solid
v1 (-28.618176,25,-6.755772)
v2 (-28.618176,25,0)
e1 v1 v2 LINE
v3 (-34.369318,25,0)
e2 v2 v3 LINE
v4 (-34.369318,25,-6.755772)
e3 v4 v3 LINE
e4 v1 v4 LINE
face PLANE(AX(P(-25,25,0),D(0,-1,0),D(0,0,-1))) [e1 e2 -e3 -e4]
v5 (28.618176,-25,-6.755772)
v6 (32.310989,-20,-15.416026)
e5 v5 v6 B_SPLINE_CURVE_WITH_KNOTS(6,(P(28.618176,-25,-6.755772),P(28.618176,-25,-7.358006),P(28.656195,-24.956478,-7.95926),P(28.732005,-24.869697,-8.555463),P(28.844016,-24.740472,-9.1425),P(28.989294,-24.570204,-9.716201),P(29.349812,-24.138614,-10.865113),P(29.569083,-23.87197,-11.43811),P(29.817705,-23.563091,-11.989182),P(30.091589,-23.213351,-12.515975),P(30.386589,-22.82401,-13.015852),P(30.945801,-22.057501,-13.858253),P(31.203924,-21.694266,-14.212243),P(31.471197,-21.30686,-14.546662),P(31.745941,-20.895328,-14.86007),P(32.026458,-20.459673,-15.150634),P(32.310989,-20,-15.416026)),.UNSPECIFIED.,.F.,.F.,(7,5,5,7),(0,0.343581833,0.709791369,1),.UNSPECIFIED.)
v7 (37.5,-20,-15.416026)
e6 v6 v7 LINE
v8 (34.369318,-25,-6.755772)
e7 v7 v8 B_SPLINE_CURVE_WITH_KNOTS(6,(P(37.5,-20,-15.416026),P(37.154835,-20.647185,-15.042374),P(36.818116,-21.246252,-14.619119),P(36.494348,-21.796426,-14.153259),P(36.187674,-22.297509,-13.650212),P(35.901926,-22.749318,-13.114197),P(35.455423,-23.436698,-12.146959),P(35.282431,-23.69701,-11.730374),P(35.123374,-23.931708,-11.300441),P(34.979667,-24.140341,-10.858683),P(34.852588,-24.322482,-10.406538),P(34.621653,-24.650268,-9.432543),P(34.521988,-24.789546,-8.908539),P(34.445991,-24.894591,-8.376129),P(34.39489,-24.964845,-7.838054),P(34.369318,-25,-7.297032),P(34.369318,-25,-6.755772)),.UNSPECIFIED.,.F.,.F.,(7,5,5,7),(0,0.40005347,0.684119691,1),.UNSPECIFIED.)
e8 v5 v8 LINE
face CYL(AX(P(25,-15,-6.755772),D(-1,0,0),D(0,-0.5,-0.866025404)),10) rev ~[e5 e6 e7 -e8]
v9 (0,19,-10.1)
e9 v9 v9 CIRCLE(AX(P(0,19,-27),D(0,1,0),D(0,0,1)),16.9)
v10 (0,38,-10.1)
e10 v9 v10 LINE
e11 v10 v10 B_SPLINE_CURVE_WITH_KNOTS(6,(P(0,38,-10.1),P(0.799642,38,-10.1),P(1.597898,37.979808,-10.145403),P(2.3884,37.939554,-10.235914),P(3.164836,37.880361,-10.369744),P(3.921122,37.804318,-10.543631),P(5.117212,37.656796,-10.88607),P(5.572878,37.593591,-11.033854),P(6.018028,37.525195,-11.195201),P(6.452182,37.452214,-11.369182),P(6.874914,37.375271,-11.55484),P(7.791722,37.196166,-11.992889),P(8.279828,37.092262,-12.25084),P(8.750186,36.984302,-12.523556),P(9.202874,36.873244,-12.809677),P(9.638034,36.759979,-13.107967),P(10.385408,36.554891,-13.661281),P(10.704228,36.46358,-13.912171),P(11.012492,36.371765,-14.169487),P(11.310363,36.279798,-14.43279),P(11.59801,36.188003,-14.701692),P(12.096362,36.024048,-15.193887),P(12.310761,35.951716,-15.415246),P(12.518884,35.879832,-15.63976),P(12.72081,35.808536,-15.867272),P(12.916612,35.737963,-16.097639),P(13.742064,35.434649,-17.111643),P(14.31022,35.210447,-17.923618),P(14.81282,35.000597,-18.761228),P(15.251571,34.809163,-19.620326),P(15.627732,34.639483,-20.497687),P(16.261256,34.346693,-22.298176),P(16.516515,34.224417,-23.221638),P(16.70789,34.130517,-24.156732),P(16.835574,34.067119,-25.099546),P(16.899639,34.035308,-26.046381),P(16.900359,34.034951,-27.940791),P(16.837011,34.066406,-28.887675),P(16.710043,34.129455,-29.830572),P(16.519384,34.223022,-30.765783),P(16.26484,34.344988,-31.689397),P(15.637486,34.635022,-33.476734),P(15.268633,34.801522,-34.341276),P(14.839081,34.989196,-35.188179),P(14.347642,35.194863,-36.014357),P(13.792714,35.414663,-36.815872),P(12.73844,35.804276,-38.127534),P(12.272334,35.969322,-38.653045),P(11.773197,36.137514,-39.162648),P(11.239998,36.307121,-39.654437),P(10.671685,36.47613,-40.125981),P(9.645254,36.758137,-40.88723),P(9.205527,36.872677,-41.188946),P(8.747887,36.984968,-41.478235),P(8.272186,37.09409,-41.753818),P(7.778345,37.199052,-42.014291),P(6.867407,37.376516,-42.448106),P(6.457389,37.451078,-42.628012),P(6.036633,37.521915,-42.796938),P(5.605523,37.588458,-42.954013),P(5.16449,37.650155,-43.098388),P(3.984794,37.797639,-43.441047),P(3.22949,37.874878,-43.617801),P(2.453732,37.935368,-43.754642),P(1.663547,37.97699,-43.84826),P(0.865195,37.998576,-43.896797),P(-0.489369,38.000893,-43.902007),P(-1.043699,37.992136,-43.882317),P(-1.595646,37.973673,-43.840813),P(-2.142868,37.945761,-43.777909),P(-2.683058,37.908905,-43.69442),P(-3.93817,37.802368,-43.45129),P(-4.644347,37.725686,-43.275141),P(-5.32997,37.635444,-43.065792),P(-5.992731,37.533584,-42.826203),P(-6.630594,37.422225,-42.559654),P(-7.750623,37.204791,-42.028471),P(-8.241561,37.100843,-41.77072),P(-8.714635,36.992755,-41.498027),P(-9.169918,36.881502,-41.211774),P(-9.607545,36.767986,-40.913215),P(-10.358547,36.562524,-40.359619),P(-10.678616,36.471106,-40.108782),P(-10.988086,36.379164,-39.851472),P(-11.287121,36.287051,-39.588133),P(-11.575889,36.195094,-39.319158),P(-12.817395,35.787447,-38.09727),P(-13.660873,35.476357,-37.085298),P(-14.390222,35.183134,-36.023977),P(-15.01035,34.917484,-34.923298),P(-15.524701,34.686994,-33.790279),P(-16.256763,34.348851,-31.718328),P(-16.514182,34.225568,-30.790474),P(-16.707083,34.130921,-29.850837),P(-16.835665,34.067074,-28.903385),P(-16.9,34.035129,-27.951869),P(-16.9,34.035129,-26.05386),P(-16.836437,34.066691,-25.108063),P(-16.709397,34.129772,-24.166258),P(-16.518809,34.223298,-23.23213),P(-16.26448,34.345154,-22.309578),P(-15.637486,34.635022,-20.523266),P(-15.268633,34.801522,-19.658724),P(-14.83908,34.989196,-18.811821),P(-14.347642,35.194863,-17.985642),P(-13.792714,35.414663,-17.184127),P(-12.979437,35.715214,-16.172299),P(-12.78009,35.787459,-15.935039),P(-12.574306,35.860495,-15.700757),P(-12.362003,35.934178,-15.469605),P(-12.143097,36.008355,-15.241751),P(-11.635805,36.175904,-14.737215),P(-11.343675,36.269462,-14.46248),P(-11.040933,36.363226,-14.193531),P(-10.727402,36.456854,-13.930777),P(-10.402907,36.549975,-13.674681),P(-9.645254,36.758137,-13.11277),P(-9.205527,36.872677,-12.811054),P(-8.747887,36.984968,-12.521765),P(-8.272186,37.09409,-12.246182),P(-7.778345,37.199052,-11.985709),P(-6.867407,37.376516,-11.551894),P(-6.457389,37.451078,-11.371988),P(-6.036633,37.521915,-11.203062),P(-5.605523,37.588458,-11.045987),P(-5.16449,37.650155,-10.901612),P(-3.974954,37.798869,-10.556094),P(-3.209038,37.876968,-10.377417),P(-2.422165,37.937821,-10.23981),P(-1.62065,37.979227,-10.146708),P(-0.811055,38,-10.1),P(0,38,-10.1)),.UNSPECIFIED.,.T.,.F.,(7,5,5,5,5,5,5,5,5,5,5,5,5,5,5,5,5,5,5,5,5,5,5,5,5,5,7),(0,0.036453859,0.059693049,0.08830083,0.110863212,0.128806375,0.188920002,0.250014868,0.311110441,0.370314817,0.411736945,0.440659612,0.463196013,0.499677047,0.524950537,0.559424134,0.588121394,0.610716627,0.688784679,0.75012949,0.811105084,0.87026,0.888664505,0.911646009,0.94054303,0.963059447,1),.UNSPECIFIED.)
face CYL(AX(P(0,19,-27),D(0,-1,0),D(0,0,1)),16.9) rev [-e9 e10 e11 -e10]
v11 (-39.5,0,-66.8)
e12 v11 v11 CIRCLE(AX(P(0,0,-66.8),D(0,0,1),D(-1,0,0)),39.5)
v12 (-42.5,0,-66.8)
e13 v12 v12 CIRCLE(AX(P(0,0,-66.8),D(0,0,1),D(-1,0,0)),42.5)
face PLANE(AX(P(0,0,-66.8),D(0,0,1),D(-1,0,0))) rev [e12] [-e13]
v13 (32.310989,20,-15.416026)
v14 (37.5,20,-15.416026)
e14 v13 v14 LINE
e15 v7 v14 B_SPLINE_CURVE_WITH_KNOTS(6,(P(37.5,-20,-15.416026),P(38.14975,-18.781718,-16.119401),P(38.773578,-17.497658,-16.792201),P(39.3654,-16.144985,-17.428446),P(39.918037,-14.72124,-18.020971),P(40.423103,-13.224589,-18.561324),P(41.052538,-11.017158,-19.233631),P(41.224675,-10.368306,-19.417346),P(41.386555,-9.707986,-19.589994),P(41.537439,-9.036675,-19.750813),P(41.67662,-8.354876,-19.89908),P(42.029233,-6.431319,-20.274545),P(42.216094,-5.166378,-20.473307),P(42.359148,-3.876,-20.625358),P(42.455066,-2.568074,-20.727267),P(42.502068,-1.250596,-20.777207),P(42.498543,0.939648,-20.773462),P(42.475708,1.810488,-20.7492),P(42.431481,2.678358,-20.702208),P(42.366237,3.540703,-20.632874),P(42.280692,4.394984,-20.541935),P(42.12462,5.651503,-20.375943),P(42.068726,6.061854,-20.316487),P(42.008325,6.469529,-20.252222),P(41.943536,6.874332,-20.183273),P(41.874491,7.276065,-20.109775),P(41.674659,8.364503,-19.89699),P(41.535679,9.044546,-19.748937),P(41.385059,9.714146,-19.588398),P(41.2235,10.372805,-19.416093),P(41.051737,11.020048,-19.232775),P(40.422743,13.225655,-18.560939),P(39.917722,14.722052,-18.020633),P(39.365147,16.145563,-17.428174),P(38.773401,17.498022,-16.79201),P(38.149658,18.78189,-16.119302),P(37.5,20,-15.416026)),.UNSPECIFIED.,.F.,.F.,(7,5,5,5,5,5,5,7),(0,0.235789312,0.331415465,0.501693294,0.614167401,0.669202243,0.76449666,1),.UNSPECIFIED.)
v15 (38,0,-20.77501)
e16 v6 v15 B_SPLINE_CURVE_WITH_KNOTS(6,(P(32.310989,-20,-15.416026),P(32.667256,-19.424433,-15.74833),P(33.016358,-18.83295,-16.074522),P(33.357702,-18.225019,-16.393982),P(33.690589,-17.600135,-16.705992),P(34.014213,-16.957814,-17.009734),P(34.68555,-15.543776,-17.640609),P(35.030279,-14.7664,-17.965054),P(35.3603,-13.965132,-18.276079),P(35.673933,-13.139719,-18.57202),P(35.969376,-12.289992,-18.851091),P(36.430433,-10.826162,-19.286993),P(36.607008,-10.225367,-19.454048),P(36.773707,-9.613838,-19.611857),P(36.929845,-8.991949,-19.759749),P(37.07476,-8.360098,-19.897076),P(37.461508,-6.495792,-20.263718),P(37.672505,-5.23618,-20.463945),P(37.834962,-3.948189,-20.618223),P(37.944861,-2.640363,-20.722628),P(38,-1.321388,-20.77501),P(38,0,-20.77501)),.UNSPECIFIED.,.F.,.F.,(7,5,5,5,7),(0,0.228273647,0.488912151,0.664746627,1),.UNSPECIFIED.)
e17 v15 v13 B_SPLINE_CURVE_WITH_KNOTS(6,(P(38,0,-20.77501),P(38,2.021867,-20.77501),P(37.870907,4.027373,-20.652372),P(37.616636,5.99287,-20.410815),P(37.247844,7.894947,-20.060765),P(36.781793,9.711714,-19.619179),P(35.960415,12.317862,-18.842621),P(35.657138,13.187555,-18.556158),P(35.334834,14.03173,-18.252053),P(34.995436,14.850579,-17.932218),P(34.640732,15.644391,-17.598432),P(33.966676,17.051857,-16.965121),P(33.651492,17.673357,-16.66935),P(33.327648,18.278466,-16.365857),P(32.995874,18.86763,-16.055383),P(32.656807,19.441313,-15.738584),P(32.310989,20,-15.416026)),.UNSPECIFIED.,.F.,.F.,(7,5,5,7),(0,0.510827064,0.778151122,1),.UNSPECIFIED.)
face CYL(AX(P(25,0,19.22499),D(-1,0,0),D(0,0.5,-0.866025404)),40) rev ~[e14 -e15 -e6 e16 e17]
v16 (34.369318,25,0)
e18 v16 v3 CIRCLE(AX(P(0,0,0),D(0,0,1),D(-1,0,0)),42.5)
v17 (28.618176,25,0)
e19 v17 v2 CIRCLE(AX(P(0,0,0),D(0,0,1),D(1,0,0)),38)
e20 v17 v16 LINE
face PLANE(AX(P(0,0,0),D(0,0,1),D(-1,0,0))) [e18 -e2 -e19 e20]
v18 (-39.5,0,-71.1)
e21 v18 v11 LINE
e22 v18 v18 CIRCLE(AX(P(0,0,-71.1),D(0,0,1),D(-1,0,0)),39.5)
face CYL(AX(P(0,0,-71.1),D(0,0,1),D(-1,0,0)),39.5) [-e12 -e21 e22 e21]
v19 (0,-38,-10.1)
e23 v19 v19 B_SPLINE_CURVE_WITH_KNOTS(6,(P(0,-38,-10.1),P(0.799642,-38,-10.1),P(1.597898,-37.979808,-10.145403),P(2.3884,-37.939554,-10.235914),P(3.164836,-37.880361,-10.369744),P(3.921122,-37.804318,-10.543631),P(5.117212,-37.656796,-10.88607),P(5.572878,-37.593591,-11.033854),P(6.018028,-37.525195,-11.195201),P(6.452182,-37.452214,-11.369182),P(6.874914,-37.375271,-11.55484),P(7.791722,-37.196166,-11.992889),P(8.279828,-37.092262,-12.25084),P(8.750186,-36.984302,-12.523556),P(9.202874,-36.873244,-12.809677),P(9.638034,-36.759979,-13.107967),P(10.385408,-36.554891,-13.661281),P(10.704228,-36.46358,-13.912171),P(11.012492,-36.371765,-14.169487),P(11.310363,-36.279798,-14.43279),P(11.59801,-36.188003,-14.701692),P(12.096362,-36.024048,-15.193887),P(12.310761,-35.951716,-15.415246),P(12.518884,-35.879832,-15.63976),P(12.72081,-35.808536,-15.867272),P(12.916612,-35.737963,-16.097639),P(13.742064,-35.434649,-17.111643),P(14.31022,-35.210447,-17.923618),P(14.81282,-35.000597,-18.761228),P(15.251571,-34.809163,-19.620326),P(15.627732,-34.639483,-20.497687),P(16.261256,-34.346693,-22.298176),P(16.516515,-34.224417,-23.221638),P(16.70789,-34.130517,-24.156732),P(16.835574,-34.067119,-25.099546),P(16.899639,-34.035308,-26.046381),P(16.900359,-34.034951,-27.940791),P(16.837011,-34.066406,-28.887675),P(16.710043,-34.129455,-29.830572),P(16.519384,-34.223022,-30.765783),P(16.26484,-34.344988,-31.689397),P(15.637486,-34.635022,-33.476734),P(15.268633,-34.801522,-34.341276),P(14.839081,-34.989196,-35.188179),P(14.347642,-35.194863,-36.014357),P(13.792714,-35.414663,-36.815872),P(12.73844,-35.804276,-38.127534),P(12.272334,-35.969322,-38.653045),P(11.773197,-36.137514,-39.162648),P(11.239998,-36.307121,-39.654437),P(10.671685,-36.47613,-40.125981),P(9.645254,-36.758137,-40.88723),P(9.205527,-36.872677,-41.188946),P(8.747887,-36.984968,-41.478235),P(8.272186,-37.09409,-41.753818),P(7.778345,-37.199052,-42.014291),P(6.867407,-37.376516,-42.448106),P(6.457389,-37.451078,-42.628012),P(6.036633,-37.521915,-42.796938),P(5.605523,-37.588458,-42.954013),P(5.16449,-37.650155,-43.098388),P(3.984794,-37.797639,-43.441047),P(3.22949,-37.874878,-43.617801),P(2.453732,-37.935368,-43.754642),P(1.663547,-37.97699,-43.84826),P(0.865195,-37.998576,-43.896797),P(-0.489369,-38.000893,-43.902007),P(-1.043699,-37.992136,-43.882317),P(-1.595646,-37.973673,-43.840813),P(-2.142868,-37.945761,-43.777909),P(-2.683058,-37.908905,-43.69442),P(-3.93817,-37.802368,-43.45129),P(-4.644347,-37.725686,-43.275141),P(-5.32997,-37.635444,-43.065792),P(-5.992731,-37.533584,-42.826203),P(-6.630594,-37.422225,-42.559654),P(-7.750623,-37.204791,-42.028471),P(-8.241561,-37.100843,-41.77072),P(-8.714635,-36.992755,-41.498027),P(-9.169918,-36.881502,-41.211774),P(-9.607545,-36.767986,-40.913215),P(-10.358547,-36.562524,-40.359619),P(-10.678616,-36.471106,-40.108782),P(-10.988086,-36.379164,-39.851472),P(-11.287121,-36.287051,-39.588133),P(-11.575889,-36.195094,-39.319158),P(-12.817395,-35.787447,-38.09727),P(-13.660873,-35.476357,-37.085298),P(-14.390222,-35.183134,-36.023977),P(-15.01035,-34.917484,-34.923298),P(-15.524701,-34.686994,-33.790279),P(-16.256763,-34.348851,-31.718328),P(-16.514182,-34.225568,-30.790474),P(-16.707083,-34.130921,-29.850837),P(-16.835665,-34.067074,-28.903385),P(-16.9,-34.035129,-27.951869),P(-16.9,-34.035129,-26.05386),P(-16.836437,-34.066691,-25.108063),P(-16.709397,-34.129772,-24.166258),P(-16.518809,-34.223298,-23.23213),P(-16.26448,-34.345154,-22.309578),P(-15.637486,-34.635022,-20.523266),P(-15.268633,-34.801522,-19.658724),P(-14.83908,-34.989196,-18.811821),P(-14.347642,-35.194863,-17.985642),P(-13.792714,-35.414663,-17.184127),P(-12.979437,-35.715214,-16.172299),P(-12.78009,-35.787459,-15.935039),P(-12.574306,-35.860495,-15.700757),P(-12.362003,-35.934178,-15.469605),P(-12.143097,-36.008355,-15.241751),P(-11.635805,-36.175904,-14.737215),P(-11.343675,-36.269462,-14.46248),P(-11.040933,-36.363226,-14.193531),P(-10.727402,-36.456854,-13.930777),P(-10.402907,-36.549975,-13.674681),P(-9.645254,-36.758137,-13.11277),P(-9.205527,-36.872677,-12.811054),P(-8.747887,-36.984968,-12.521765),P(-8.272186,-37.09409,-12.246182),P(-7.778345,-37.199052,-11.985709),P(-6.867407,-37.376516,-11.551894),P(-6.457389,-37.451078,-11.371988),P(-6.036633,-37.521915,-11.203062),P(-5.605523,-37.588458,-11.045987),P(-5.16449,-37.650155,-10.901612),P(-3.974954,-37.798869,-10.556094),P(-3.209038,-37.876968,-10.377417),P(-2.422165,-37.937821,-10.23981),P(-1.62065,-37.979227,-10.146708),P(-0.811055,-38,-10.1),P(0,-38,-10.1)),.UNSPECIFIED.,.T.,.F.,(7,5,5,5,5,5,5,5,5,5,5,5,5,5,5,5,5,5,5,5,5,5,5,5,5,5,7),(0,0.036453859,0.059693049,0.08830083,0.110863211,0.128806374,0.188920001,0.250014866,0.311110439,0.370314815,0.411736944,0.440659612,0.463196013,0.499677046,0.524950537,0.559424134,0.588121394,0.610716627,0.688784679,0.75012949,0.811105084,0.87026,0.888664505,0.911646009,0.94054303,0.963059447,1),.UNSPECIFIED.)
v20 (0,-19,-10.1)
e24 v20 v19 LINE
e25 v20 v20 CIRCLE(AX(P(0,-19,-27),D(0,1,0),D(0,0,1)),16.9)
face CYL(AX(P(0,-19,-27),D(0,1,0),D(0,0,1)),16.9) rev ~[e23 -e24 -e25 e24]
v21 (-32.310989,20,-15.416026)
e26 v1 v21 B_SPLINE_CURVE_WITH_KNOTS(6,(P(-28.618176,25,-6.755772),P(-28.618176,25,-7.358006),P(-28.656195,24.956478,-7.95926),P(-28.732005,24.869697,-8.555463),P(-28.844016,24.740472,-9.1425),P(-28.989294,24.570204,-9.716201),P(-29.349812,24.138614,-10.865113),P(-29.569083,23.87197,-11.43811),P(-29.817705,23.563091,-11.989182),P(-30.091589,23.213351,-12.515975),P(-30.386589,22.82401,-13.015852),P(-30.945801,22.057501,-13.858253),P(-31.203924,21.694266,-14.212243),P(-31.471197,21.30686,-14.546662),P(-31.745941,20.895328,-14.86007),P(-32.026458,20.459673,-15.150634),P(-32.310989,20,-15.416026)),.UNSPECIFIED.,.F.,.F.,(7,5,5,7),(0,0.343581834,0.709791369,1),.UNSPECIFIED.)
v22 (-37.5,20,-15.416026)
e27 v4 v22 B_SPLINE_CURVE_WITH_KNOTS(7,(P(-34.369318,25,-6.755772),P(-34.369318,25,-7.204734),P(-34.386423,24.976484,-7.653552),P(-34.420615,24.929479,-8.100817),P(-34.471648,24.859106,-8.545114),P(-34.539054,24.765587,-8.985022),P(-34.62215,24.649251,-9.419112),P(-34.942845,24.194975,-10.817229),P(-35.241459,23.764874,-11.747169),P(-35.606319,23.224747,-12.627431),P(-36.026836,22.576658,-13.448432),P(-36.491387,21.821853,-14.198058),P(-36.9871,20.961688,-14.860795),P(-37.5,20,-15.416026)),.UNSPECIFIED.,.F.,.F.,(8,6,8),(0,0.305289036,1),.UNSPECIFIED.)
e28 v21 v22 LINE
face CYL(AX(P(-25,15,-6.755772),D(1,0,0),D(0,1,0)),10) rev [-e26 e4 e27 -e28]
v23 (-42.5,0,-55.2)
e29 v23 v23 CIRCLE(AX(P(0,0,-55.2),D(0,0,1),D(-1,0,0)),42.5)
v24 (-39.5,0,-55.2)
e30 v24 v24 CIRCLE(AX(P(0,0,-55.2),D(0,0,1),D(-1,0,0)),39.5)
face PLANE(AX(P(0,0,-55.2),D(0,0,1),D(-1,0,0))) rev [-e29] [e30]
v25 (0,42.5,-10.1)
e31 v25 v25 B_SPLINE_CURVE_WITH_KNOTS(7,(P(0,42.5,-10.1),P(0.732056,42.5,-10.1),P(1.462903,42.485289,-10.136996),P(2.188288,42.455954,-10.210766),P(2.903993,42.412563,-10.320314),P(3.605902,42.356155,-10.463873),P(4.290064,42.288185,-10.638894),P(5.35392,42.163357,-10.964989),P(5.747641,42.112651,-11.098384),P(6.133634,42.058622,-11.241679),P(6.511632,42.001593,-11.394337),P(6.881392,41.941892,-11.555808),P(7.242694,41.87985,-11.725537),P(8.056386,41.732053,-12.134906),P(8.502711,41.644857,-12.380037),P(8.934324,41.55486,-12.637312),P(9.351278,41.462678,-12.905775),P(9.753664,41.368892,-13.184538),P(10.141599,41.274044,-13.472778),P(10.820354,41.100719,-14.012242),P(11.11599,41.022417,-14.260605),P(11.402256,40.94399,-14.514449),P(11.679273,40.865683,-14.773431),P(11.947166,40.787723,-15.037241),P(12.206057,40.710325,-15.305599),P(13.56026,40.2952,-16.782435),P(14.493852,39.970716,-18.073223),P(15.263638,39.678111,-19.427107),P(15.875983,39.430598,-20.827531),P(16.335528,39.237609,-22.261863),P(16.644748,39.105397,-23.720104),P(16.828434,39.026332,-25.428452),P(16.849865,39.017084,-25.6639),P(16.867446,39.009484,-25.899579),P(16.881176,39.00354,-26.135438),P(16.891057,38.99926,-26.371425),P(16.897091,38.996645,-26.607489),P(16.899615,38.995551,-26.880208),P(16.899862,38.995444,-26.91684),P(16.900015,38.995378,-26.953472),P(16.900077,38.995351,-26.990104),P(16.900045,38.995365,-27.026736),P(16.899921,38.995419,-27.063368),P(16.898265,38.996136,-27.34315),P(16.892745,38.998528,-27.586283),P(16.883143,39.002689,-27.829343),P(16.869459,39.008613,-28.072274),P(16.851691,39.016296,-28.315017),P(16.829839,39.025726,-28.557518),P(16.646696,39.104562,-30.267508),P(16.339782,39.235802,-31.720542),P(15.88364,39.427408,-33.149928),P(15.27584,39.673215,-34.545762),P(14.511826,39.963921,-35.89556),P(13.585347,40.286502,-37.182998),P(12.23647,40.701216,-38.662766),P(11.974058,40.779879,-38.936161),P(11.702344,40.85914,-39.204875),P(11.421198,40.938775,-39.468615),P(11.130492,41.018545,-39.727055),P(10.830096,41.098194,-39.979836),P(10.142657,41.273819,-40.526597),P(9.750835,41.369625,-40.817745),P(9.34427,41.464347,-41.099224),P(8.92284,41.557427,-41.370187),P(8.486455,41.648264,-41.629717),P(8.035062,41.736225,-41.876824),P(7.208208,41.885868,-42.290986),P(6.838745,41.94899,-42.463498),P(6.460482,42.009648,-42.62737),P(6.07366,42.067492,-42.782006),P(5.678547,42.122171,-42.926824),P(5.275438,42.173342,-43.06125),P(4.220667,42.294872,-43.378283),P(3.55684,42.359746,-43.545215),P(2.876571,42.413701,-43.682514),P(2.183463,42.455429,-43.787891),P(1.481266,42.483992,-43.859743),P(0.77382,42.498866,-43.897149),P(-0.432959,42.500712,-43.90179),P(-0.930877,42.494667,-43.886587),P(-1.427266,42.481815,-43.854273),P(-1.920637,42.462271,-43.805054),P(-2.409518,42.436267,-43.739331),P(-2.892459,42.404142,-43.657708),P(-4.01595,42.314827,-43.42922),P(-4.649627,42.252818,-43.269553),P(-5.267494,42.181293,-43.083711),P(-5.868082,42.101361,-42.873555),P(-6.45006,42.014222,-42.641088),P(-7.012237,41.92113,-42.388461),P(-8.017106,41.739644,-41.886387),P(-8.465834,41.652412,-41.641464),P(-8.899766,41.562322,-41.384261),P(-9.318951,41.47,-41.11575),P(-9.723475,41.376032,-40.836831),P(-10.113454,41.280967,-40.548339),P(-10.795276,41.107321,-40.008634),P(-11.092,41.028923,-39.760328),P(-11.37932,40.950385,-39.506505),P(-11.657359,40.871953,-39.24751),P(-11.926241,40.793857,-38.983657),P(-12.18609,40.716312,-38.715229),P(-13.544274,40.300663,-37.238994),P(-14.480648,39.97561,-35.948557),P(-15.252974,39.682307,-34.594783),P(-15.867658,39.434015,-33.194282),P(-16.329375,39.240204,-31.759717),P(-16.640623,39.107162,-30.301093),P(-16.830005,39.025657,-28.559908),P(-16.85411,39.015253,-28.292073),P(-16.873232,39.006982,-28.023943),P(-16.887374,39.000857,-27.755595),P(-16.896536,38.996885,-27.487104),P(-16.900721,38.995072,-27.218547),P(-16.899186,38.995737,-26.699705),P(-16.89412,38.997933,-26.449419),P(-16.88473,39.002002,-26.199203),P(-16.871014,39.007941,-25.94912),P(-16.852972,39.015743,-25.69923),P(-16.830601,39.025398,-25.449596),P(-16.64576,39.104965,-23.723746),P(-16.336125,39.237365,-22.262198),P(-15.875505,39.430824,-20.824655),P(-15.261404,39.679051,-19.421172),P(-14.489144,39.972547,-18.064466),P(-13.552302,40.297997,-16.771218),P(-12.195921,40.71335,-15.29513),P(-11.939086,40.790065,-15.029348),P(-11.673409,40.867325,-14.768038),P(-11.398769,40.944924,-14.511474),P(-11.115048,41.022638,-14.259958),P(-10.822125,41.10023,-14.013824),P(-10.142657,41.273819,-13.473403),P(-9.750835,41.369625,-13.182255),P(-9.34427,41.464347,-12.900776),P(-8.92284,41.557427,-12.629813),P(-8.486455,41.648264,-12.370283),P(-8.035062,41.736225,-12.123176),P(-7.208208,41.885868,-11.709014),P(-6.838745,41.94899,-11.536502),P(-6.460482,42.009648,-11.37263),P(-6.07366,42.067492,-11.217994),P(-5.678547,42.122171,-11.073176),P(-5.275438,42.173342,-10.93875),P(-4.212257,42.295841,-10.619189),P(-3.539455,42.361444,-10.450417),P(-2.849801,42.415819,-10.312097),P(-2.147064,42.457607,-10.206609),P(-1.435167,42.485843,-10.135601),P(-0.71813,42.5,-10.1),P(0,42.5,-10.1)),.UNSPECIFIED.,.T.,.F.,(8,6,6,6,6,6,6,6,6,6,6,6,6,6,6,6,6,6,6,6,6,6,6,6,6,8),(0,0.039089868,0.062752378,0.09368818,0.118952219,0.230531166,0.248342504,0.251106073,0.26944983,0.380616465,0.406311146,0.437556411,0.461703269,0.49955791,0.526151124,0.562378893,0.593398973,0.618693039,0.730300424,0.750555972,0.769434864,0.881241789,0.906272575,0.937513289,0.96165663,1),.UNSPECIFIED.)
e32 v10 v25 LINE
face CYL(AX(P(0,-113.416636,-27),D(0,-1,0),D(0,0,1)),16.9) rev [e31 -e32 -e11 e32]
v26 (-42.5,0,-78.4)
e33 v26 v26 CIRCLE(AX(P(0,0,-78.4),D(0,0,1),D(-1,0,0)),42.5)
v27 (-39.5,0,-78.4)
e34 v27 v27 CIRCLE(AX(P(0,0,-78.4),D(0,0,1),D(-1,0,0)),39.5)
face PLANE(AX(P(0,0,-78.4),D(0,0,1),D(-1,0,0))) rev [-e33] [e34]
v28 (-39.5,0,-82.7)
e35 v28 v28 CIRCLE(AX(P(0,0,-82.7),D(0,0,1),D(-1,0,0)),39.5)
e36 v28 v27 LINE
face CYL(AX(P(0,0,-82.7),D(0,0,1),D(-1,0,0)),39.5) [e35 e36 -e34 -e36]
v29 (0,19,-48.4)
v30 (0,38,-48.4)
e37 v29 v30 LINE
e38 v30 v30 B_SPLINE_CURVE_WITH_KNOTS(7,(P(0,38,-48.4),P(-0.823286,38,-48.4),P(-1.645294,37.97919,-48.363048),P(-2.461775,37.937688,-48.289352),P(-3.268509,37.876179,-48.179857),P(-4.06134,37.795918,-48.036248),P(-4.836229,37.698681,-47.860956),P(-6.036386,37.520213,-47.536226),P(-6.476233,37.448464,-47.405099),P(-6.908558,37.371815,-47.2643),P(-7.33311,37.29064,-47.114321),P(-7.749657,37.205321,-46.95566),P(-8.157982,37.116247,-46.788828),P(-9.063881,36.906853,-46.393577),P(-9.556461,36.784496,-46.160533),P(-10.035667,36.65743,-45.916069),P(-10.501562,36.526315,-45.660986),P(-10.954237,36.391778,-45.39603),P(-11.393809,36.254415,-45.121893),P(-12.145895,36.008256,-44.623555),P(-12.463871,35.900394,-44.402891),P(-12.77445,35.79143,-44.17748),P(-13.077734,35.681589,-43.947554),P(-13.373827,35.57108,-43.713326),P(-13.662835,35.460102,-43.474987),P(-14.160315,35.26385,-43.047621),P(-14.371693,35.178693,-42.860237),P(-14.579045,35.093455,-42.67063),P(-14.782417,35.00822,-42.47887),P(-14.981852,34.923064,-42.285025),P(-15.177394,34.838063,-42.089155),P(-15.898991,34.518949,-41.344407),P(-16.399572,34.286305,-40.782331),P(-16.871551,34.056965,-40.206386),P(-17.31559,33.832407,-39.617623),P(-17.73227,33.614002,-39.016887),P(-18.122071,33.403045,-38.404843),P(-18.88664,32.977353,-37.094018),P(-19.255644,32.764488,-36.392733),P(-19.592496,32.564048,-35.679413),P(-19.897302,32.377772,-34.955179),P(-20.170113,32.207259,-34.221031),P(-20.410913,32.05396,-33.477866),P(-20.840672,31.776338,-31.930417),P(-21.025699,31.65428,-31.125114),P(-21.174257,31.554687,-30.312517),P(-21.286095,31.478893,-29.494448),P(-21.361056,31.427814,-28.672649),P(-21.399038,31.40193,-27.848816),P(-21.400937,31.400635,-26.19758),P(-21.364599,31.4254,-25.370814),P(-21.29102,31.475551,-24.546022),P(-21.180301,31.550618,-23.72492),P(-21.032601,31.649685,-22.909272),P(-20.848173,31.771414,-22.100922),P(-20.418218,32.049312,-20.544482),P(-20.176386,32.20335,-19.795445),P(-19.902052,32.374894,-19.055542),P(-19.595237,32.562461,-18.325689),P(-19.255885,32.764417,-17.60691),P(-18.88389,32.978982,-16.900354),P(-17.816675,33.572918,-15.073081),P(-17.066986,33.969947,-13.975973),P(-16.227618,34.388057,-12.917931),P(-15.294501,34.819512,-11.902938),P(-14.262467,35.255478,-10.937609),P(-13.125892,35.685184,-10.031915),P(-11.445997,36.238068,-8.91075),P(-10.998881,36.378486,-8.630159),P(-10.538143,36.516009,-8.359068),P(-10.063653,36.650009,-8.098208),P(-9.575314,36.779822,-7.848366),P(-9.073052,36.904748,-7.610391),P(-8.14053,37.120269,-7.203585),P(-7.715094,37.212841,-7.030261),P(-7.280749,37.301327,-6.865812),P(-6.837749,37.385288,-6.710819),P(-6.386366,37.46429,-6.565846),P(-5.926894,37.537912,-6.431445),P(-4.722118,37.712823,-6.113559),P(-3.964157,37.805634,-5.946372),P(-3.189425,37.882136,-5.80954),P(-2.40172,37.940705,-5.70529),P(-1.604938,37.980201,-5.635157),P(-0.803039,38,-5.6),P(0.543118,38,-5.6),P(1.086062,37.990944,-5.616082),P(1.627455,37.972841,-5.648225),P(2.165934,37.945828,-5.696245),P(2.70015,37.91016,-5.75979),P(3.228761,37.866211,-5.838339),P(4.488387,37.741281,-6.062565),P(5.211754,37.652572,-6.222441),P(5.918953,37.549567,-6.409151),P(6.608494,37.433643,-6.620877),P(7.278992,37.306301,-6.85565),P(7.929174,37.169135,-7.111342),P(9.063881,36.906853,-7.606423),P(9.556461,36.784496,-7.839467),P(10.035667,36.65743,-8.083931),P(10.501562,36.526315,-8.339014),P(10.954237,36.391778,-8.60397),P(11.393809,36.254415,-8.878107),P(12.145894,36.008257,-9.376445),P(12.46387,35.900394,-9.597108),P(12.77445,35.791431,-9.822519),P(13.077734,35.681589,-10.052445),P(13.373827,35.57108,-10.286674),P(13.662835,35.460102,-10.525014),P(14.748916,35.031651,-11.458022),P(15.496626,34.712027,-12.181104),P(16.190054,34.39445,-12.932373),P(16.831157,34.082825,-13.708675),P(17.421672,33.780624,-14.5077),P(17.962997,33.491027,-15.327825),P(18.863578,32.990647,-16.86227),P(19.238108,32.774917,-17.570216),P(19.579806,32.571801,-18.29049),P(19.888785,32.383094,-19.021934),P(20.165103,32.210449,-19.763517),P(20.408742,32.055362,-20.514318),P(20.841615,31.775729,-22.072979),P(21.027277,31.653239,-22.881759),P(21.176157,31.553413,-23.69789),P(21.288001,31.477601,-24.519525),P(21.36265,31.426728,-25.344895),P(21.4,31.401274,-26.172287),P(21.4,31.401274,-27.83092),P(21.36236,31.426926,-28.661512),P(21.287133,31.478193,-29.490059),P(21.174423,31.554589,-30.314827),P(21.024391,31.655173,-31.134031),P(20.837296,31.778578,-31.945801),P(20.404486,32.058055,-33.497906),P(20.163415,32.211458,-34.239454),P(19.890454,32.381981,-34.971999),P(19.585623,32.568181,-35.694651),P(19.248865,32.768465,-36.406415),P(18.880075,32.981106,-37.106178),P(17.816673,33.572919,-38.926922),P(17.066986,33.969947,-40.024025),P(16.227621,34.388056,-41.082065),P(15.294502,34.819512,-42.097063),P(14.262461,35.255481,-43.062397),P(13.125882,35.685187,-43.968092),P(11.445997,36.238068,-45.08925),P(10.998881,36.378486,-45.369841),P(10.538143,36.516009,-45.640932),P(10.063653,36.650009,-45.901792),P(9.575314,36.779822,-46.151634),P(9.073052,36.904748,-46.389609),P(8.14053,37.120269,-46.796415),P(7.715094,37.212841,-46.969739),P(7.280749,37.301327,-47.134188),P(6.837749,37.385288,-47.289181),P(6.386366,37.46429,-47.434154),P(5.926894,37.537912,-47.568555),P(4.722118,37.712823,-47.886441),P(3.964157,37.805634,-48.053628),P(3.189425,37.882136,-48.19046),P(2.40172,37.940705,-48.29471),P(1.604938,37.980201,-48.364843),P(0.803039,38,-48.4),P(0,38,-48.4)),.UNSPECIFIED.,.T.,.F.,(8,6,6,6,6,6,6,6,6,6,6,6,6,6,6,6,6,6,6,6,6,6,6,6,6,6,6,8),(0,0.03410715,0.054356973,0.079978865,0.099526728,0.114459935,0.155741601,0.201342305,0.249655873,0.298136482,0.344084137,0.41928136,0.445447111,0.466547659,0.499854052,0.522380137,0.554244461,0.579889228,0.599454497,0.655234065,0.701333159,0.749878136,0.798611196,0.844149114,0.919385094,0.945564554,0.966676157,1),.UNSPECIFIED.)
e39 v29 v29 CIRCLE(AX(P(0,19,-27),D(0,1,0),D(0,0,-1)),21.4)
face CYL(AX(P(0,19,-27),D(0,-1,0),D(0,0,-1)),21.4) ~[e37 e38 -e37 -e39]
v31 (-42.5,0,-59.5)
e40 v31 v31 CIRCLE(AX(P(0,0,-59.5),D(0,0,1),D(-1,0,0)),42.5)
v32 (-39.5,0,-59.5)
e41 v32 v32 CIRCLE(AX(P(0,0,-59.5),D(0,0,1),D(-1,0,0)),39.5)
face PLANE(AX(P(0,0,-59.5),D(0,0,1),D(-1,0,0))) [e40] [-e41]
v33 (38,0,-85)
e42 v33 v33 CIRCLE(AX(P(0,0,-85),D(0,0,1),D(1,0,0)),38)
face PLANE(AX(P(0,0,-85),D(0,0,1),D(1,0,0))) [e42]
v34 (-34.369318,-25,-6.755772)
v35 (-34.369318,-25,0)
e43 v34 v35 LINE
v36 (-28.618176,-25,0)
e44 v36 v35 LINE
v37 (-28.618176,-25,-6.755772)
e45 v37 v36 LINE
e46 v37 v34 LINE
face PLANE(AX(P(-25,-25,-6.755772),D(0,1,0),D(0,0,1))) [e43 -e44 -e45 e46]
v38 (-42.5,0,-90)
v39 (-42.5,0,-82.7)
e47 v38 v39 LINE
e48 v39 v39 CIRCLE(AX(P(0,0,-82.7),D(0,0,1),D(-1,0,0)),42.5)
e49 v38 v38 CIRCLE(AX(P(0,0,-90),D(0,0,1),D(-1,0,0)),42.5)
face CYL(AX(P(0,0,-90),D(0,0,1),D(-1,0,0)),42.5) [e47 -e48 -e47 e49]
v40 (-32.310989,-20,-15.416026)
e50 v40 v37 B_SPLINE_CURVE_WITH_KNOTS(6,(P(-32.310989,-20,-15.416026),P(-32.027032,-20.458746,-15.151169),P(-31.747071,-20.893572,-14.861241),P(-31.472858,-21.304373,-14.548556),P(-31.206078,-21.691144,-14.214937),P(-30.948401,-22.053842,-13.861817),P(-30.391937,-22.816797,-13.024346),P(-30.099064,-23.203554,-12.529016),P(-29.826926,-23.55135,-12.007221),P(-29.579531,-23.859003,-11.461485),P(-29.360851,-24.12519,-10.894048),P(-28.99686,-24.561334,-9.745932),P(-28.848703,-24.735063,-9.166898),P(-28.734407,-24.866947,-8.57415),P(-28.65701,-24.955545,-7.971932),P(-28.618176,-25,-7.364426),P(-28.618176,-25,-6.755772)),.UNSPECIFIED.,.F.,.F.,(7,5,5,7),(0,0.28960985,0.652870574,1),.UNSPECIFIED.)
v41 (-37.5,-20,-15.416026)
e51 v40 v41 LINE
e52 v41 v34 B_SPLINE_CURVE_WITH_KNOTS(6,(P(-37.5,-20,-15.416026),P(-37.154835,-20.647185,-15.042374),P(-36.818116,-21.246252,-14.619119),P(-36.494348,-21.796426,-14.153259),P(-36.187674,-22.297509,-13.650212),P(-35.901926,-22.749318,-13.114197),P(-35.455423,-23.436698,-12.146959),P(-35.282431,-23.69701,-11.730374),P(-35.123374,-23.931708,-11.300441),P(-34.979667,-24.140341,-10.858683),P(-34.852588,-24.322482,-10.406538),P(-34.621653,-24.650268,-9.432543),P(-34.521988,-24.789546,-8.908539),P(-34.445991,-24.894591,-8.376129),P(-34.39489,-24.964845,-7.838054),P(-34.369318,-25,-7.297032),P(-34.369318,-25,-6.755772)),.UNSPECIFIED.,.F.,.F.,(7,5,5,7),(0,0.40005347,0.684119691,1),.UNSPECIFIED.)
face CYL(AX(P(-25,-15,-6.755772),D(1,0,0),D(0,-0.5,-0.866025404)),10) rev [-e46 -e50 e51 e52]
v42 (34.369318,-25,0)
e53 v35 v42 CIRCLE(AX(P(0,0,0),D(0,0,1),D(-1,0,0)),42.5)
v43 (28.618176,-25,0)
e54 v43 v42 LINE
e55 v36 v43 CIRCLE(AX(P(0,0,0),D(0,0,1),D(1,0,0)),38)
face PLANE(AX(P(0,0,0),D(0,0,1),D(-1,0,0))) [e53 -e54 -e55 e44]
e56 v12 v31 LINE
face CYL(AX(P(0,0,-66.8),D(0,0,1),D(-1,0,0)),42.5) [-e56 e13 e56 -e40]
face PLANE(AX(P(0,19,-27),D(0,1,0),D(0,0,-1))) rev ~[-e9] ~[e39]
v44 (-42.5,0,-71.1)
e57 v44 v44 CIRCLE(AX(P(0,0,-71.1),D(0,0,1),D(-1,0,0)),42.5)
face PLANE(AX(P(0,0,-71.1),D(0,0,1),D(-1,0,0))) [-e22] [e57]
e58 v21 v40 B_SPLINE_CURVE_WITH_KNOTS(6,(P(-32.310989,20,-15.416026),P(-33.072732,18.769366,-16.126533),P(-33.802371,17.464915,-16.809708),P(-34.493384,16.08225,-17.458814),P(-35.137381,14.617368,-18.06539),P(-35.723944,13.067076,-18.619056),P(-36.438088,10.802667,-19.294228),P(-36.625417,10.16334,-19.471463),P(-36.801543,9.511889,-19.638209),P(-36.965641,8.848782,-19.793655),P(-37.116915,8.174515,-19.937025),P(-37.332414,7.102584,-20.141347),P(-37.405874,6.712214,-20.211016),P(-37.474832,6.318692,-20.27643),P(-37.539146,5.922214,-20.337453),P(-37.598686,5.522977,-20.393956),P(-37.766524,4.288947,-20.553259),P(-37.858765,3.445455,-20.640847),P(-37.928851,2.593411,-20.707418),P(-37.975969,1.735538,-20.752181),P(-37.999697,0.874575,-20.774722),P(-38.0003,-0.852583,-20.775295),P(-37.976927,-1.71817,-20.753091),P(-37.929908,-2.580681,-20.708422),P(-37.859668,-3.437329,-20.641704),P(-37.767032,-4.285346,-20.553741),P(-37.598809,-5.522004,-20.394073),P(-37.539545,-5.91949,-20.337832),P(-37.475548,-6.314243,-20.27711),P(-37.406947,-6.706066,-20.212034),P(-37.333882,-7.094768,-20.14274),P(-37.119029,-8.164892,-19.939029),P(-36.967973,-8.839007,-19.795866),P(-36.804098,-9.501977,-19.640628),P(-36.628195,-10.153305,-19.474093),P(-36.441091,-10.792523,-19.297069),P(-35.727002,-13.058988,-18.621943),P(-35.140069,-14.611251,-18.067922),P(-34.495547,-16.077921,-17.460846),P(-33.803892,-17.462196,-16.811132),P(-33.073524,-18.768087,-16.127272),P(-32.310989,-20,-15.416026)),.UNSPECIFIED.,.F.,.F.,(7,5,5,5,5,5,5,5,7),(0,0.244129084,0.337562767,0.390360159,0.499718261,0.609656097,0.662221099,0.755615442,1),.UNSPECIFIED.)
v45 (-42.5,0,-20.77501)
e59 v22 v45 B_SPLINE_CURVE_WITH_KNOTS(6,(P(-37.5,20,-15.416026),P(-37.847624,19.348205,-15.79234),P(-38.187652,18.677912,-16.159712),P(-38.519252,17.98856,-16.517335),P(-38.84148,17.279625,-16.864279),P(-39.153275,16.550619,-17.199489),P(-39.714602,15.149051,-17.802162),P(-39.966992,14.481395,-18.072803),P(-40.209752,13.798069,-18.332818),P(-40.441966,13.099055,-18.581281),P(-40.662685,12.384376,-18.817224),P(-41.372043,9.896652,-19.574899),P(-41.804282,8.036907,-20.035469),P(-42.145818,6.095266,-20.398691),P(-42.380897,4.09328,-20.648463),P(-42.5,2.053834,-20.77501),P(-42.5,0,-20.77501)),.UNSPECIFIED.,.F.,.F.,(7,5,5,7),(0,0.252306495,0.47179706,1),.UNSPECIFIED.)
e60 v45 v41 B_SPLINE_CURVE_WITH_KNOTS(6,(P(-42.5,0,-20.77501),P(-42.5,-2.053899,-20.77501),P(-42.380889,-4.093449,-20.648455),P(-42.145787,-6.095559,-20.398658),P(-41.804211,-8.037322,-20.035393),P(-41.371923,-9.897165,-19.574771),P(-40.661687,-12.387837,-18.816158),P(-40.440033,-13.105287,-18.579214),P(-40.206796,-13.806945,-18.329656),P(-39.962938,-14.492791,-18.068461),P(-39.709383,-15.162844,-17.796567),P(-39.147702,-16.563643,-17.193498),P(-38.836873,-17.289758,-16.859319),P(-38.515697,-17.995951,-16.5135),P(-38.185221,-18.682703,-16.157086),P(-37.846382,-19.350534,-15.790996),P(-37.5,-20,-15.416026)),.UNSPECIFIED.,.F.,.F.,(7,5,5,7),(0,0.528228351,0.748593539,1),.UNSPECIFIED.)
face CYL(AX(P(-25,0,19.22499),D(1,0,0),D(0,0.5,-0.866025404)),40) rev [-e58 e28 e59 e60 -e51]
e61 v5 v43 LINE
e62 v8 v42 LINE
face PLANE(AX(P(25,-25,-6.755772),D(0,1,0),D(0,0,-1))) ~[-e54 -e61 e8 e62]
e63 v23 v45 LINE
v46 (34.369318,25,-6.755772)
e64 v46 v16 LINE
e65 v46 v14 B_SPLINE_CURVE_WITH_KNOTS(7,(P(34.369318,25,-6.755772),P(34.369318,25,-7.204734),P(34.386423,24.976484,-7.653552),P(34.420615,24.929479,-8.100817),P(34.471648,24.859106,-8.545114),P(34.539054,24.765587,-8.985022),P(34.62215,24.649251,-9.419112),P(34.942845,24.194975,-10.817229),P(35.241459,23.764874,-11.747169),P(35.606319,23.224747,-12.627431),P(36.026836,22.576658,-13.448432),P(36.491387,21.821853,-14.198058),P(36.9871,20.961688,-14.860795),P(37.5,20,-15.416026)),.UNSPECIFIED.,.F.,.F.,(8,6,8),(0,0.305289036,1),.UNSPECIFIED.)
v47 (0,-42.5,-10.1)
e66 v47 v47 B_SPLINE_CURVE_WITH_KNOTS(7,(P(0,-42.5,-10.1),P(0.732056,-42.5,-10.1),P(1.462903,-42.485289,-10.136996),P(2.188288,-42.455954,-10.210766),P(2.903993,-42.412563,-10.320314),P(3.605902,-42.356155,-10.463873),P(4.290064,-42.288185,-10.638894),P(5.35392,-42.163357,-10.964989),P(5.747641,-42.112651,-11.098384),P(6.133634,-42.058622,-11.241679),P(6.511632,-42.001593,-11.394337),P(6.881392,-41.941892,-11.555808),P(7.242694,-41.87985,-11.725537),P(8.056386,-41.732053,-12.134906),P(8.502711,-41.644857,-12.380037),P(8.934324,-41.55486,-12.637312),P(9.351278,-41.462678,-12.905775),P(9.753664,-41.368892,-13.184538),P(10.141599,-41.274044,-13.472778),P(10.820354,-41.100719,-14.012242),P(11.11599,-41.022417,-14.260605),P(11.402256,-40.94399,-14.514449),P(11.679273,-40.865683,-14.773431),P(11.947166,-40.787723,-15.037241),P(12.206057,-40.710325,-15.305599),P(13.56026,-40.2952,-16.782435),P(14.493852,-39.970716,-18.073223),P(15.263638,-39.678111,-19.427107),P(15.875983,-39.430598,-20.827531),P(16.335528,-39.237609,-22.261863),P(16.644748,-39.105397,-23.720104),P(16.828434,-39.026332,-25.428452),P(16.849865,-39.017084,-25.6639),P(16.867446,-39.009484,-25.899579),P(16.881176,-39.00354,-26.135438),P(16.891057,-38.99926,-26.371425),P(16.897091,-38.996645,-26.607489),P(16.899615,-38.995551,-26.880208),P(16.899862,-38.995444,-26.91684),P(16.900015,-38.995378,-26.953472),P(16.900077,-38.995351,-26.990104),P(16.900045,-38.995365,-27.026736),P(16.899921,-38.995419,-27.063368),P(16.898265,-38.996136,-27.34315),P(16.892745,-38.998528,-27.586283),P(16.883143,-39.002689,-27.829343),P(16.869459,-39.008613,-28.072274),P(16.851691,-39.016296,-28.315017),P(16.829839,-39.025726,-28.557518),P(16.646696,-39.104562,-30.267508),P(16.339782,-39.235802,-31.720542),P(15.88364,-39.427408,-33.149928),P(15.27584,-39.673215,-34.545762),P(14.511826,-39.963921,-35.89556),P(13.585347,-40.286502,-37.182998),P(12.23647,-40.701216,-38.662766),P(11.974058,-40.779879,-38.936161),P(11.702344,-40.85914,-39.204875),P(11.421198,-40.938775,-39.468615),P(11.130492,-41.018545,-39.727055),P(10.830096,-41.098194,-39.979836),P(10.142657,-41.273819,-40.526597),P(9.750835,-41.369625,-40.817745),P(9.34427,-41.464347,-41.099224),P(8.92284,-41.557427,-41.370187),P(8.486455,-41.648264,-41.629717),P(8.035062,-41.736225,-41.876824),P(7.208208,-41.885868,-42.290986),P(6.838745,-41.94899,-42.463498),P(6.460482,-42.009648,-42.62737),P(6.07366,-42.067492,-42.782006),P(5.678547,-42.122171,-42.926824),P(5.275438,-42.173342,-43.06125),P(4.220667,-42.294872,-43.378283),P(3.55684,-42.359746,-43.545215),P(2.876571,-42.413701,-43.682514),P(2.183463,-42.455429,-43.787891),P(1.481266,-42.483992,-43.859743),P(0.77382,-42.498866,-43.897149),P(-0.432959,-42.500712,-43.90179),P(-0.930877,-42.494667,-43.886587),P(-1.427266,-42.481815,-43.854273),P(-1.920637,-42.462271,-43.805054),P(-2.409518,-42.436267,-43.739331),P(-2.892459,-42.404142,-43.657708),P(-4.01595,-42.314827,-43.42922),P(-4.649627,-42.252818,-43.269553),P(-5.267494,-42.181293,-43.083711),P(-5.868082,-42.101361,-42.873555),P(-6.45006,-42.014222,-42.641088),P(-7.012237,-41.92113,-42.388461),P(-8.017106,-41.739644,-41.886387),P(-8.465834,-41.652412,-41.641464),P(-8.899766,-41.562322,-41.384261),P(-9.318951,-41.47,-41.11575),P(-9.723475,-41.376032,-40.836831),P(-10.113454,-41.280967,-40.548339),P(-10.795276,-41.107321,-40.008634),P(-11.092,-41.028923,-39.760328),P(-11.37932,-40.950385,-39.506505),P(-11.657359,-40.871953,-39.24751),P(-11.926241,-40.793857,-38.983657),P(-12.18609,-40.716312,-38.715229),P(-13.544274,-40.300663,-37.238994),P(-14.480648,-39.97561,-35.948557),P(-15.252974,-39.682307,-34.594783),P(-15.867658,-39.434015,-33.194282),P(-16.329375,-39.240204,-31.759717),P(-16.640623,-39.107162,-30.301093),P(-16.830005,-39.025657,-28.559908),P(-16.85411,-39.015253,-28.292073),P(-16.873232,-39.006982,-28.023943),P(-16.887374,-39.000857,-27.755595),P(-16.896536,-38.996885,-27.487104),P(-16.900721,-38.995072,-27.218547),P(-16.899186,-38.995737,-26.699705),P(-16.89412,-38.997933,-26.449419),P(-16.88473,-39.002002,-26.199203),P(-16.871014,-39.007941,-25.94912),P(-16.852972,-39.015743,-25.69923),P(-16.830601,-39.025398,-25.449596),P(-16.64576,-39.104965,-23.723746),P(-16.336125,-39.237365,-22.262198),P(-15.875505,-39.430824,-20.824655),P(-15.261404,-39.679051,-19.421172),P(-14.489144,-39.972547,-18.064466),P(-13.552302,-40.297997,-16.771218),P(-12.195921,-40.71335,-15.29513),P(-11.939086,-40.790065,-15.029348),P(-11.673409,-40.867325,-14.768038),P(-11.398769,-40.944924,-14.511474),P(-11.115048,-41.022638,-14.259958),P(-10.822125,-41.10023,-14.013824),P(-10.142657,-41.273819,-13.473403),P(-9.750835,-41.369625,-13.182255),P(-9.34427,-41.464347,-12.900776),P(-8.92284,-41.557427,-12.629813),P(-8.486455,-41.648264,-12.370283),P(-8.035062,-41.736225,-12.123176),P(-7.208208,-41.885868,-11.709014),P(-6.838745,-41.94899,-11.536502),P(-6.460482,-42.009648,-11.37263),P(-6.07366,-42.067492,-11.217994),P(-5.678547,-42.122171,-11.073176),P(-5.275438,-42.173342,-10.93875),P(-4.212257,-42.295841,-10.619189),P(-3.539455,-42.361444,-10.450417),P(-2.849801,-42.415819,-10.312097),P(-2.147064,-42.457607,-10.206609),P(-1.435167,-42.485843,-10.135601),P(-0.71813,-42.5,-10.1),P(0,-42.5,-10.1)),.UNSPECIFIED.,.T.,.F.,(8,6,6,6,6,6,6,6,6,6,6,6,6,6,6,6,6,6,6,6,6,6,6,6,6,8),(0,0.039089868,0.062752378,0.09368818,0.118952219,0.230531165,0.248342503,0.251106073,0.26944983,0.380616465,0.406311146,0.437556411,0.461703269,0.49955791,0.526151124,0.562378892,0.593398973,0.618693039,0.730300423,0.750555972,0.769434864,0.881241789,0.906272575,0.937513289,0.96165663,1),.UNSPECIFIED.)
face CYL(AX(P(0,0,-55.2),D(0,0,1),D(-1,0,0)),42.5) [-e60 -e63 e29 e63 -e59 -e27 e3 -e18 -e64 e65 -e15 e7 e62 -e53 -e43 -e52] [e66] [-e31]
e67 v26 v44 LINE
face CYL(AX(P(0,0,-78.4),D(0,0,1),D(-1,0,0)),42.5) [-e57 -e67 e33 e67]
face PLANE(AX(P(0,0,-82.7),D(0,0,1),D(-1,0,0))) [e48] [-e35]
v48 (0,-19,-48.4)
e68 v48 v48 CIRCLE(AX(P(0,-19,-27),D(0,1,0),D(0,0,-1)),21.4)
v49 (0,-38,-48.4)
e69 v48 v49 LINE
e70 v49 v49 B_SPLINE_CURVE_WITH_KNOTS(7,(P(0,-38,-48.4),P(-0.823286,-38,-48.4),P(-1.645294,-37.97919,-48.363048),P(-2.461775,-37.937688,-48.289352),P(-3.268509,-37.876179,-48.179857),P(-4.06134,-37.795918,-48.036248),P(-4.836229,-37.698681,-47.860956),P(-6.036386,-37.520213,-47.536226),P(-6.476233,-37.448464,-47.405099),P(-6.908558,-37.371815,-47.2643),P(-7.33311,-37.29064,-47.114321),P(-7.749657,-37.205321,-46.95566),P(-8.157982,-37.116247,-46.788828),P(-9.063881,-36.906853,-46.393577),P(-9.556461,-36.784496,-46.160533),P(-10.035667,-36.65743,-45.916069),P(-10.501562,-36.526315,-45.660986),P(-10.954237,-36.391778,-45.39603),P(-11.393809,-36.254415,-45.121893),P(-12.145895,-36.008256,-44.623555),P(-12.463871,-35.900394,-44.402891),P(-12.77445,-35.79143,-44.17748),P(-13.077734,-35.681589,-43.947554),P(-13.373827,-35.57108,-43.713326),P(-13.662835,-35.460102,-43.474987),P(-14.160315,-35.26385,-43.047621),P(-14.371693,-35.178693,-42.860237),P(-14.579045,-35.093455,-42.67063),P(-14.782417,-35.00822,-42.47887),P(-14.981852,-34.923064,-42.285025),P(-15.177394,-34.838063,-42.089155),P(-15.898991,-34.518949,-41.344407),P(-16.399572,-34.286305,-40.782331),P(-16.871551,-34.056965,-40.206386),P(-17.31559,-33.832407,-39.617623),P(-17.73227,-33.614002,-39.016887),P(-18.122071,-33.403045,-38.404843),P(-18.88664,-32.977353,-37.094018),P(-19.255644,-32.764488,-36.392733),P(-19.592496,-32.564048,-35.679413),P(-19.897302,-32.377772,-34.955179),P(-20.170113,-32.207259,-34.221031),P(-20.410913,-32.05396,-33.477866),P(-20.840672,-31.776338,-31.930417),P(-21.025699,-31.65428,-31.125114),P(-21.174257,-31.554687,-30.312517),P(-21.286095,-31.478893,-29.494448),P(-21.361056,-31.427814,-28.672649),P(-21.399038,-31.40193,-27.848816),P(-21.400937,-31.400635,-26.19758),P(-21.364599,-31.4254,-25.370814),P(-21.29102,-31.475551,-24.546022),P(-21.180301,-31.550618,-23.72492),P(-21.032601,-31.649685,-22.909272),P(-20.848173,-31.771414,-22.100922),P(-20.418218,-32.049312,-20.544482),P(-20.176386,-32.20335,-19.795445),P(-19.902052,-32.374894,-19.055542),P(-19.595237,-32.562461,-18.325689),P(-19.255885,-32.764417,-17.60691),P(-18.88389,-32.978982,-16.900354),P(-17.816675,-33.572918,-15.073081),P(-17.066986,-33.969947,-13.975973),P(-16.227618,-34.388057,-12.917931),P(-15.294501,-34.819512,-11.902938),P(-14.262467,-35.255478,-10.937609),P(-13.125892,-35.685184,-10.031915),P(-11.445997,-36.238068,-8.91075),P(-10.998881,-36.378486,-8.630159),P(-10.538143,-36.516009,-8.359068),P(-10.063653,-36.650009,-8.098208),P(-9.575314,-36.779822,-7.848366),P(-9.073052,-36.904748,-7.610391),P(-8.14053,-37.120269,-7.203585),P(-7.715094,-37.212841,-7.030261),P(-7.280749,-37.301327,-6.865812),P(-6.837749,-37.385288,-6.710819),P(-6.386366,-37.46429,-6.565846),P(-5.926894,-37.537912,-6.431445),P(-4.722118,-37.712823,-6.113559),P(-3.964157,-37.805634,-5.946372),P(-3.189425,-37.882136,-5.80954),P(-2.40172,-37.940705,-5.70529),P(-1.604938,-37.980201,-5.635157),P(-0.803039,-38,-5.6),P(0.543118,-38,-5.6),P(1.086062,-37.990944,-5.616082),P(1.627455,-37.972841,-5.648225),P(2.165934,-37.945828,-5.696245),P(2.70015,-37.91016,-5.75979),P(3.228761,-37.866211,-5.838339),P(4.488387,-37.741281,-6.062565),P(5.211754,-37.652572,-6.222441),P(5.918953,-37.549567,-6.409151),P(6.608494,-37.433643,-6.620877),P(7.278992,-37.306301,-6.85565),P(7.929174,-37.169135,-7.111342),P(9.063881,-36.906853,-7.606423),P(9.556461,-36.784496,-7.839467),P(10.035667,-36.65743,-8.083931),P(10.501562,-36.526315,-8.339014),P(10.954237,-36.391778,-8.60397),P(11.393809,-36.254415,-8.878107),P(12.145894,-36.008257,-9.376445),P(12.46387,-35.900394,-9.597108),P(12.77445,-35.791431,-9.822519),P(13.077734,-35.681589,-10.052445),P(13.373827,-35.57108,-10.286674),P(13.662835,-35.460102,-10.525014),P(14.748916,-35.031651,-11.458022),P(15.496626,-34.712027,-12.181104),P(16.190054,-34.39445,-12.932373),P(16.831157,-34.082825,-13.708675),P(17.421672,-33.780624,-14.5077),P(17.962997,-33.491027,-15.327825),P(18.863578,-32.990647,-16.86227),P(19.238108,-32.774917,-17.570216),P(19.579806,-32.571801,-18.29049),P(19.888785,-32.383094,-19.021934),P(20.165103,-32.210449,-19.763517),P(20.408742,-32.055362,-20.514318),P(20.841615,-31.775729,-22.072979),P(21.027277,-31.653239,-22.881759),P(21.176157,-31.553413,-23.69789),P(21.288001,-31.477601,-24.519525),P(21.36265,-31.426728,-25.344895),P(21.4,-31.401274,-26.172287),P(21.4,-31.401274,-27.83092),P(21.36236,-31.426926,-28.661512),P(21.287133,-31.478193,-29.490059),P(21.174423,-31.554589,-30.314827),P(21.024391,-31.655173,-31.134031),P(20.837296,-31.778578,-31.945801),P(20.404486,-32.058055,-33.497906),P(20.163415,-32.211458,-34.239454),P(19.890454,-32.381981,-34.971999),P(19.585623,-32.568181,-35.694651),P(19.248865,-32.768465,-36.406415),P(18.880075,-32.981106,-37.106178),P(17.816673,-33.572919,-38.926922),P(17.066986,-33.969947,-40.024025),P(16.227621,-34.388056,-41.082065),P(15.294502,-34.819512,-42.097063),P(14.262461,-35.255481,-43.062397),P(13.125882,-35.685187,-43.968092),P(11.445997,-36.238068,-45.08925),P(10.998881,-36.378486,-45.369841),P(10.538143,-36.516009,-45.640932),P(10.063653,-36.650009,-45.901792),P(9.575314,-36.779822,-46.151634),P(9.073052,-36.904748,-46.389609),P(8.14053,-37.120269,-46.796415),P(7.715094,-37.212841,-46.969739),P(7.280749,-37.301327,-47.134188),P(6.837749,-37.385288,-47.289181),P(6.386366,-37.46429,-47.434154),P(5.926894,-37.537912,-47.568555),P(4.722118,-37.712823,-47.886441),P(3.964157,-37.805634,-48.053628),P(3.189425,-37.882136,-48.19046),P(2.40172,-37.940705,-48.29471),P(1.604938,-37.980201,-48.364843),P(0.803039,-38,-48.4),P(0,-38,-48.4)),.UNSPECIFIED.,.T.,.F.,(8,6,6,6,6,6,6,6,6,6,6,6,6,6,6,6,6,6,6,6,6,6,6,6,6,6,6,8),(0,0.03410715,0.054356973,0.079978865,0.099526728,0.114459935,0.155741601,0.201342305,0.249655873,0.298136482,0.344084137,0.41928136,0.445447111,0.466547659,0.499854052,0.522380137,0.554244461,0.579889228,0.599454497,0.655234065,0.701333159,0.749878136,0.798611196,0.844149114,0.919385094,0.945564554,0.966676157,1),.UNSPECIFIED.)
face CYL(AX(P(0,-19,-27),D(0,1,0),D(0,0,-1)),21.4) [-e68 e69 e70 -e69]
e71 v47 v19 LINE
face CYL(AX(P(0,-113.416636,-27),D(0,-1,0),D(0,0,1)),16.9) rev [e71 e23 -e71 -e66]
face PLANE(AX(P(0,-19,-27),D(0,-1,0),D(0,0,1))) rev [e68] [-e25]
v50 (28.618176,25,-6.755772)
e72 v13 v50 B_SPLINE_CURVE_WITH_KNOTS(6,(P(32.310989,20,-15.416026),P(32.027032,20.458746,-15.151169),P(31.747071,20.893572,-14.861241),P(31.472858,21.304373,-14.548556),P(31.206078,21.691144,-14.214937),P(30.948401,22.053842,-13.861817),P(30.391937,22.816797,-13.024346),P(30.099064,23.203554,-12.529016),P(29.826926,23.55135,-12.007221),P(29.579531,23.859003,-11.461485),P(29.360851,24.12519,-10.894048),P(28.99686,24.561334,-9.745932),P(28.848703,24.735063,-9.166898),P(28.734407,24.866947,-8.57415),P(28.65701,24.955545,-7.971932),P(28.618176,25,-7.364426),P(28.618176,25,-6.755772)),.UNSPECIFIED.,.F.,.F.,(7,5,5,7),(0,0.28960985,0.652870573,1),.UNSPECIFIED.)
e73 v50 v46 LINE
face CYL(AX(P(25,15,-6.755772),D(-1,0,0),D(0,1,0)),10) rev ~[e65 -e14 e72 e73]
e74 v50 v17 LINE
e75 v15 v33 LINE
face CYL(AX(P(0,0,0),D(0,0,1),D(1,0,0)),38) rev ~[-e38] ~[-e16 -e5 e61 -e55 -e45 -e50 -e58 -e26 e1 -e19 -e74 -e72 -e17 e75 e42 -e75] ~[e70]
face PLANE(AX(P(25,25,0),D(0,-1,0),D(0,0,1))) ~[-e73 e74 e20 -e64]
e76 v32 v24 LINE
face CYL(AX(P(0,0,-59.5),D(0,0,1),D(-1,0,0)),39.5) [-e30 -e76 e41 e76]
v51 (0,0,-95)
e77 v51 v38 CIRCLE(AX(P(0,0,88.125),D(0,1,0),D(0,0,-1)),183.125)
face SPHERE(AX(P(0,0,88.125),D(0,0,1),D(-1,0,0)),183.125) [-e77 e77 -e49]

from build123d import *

# Parameters (mm, degrees)
CUT_EXTRUDE1_DEPTH       = 113.41663578
CUT_EXTRUDE1_DEPTH_BACK  = 113.41663578
SKETCH3_R                = 16.9
SKETCH4_R                = 38
CUT_EXTRUDE2_DEPTH       = 85
BOSS_EXTRUDE2_REACH      = 133.417
BOSS_EXTRUDE2_END_RADIUS = 38
BOSS_EXTRUDE2_START      = 19
SKETCH5_R                = 21.4
SKETCH5_R_2              = 16.9
CUT_EXTRUDE3_START       = -25
CUT_EXTRUDE3_DEPTH       = 88.416635855


with BuildPart() as part:
    # Sketch2 → Revolve1 (revolve)
    with BuildSketch(Plane(origin=(0, 0, 0), x_dir=(1, 0, 0), z_dir=(0, 1, 0))):
        with BuildLine():
            Line((0, 90), (0, 95))
            ThreePointArc((0, 95), (-21.396553461, 93.745704417), (-42.5, 90))
            Line((-42.5, 90), (-42.5, 82.7))
            Line((-42.5, 82.7), (-39.5, 82.7))
            Line((-39.5, 82.7), (-39.5, 78.4))
            Line((-39.5, 78.4), (-42.5, 78.4))
            Line((-42.5, 78.4), (-42.5, 71.1))
            Line((-42.5, 71.1), (-39.5, 71.1))
            Line((-39.5, 71.1), (-39.5, 66.8))
            Line((-39.5, 66.8), (-42.5, 66.8))
            Line((-42.5, 66.8), (-42.5, 59.5))
            Line((-42.5, 59.5), (-39.5, 59.5))
            Line((-39.5, 59.5), (-39.5, 55.2))
            Line((-39.5, 55.2), (-42.5, 55.2))
            Line((-42.5, 55.2), (-42.5, 0))
            Line((-42.5, 0), (0, 0))
            Line((0, 0), (0, 90))
        make_face()
    revolve(axis=Axis((0, 0, -90), (0, 0, 1)))

    # Sketch3 → Cut-Extrude1 (cut, two sides: drawn at the far end of the back side and taken through both)
    with BuildSketch(Plane(origin=(0, 0, 0), x_dir=(1, 0, 0), z_dir=(0, 1, 0)).offset(-CUT_EXTRUDE1_DEPTH_BACK)):
        with Locations(Location((0, 27, 0), (0, 0, 270))):
            Circle(SKETCH3_R)
    extrude(amount=CUT_EXTRUDE1_DEPTH + CUT_EXTRUDE1_DEPTH_BACK, mode=Mode.SUBTRACT)

    # Sketch4 → Cut-Extrude2 (cut)
    with BuildSketch(Plane.XY):
        Circle(SKETCH4_R)
    extrude(amount=-CUT_EXTRUDE2_DEPTH, mode=Mode.SUBTRACT)

    # Boss-Extrude2: up to this cylinder (the profile starts inside it)
    boss_extrude2_end = Plane(origin=(0, 0, -6.205283), z_dir=(0, 0, 1)) * Cylinder(BOSS_EXTRUDE2_END_RADIUS, 343.834, mode=Mode.PRIVATE)
    # Sketch5 → Boss-Extrude2 (add, up to the surface)
    with BuildSketch(Plane(origin=(0, 0, 0), x_dir=(1, 0, 0), z_dir=(0, 1, 0)).offset(BOSS_EXTRUDE2_START), mode=Mode.PRIVATE) as boss_extrude2_sk1:
        with Locations(Location((0, 27, 0), (0, 0, 90))):
            Circle(SKETCH5_R)
        with Locations(Location((0, 27, 0), (0, 0, 270))):
            Circle(SKETCH5_R_2, mode=Mode.SUBTRACT)
    boss_extrude2_tool1 = extrude(boss_extrude2_sk1.sketch, amount=BOSS_EXTRUDE2_REACH, mode=Mode.PRIVATE) & boss_extrude2_end
    boss_extrude2 = boss_extrude2_tool1.solids().sort_by_distance((0, 19, -6.205283))[0]
    add(boss_extrude2)

    # Mirror1: Boss-Extrude2 across plane
    add(boss_extrude2.mirror(Plane.ZX))

    # Sketch6 → Cut-Extrude3 (cut, through all)
    with BuildSketch(Plane(origin=(0, 0, 0), x_dir=(0, 0, -1), z_dir=(1, 0, 0)).offset(CUT_EXTRUDE3_START)):
        with BuildLine():
            Line((0, -25), (0, 25))
            Line((0, 25), (6.755772122, 25))
            ThreePointArc((6.755772122, 25), (11.755772122, 23.660254038), (15.416026159, 20))
            ThreePointArc((15.416026159, 20), (20.775010008, 0), (15.416026159, -20))
            ThreePointArc((15.416026159, -20), (11.755772122, -23.660254038), (6.755772122, -25))
            Line((6.755772122, -25), (0, -25))
        make_face()
    cut_extrude3 = extrude(amount=-CUT_EXTRUDE3_DEPTH, mode=Mode.SUBTRACT)

    # Mirror2: Cut-Extrude3 across plane
    add(cut_extrude3.mirror(Plane(origin=(0, 0, 0), x_dir=(0, 0, 1), z_dir=(1, 0, 0))), mode=Mode.SUBTRACT)


solid = part.part
